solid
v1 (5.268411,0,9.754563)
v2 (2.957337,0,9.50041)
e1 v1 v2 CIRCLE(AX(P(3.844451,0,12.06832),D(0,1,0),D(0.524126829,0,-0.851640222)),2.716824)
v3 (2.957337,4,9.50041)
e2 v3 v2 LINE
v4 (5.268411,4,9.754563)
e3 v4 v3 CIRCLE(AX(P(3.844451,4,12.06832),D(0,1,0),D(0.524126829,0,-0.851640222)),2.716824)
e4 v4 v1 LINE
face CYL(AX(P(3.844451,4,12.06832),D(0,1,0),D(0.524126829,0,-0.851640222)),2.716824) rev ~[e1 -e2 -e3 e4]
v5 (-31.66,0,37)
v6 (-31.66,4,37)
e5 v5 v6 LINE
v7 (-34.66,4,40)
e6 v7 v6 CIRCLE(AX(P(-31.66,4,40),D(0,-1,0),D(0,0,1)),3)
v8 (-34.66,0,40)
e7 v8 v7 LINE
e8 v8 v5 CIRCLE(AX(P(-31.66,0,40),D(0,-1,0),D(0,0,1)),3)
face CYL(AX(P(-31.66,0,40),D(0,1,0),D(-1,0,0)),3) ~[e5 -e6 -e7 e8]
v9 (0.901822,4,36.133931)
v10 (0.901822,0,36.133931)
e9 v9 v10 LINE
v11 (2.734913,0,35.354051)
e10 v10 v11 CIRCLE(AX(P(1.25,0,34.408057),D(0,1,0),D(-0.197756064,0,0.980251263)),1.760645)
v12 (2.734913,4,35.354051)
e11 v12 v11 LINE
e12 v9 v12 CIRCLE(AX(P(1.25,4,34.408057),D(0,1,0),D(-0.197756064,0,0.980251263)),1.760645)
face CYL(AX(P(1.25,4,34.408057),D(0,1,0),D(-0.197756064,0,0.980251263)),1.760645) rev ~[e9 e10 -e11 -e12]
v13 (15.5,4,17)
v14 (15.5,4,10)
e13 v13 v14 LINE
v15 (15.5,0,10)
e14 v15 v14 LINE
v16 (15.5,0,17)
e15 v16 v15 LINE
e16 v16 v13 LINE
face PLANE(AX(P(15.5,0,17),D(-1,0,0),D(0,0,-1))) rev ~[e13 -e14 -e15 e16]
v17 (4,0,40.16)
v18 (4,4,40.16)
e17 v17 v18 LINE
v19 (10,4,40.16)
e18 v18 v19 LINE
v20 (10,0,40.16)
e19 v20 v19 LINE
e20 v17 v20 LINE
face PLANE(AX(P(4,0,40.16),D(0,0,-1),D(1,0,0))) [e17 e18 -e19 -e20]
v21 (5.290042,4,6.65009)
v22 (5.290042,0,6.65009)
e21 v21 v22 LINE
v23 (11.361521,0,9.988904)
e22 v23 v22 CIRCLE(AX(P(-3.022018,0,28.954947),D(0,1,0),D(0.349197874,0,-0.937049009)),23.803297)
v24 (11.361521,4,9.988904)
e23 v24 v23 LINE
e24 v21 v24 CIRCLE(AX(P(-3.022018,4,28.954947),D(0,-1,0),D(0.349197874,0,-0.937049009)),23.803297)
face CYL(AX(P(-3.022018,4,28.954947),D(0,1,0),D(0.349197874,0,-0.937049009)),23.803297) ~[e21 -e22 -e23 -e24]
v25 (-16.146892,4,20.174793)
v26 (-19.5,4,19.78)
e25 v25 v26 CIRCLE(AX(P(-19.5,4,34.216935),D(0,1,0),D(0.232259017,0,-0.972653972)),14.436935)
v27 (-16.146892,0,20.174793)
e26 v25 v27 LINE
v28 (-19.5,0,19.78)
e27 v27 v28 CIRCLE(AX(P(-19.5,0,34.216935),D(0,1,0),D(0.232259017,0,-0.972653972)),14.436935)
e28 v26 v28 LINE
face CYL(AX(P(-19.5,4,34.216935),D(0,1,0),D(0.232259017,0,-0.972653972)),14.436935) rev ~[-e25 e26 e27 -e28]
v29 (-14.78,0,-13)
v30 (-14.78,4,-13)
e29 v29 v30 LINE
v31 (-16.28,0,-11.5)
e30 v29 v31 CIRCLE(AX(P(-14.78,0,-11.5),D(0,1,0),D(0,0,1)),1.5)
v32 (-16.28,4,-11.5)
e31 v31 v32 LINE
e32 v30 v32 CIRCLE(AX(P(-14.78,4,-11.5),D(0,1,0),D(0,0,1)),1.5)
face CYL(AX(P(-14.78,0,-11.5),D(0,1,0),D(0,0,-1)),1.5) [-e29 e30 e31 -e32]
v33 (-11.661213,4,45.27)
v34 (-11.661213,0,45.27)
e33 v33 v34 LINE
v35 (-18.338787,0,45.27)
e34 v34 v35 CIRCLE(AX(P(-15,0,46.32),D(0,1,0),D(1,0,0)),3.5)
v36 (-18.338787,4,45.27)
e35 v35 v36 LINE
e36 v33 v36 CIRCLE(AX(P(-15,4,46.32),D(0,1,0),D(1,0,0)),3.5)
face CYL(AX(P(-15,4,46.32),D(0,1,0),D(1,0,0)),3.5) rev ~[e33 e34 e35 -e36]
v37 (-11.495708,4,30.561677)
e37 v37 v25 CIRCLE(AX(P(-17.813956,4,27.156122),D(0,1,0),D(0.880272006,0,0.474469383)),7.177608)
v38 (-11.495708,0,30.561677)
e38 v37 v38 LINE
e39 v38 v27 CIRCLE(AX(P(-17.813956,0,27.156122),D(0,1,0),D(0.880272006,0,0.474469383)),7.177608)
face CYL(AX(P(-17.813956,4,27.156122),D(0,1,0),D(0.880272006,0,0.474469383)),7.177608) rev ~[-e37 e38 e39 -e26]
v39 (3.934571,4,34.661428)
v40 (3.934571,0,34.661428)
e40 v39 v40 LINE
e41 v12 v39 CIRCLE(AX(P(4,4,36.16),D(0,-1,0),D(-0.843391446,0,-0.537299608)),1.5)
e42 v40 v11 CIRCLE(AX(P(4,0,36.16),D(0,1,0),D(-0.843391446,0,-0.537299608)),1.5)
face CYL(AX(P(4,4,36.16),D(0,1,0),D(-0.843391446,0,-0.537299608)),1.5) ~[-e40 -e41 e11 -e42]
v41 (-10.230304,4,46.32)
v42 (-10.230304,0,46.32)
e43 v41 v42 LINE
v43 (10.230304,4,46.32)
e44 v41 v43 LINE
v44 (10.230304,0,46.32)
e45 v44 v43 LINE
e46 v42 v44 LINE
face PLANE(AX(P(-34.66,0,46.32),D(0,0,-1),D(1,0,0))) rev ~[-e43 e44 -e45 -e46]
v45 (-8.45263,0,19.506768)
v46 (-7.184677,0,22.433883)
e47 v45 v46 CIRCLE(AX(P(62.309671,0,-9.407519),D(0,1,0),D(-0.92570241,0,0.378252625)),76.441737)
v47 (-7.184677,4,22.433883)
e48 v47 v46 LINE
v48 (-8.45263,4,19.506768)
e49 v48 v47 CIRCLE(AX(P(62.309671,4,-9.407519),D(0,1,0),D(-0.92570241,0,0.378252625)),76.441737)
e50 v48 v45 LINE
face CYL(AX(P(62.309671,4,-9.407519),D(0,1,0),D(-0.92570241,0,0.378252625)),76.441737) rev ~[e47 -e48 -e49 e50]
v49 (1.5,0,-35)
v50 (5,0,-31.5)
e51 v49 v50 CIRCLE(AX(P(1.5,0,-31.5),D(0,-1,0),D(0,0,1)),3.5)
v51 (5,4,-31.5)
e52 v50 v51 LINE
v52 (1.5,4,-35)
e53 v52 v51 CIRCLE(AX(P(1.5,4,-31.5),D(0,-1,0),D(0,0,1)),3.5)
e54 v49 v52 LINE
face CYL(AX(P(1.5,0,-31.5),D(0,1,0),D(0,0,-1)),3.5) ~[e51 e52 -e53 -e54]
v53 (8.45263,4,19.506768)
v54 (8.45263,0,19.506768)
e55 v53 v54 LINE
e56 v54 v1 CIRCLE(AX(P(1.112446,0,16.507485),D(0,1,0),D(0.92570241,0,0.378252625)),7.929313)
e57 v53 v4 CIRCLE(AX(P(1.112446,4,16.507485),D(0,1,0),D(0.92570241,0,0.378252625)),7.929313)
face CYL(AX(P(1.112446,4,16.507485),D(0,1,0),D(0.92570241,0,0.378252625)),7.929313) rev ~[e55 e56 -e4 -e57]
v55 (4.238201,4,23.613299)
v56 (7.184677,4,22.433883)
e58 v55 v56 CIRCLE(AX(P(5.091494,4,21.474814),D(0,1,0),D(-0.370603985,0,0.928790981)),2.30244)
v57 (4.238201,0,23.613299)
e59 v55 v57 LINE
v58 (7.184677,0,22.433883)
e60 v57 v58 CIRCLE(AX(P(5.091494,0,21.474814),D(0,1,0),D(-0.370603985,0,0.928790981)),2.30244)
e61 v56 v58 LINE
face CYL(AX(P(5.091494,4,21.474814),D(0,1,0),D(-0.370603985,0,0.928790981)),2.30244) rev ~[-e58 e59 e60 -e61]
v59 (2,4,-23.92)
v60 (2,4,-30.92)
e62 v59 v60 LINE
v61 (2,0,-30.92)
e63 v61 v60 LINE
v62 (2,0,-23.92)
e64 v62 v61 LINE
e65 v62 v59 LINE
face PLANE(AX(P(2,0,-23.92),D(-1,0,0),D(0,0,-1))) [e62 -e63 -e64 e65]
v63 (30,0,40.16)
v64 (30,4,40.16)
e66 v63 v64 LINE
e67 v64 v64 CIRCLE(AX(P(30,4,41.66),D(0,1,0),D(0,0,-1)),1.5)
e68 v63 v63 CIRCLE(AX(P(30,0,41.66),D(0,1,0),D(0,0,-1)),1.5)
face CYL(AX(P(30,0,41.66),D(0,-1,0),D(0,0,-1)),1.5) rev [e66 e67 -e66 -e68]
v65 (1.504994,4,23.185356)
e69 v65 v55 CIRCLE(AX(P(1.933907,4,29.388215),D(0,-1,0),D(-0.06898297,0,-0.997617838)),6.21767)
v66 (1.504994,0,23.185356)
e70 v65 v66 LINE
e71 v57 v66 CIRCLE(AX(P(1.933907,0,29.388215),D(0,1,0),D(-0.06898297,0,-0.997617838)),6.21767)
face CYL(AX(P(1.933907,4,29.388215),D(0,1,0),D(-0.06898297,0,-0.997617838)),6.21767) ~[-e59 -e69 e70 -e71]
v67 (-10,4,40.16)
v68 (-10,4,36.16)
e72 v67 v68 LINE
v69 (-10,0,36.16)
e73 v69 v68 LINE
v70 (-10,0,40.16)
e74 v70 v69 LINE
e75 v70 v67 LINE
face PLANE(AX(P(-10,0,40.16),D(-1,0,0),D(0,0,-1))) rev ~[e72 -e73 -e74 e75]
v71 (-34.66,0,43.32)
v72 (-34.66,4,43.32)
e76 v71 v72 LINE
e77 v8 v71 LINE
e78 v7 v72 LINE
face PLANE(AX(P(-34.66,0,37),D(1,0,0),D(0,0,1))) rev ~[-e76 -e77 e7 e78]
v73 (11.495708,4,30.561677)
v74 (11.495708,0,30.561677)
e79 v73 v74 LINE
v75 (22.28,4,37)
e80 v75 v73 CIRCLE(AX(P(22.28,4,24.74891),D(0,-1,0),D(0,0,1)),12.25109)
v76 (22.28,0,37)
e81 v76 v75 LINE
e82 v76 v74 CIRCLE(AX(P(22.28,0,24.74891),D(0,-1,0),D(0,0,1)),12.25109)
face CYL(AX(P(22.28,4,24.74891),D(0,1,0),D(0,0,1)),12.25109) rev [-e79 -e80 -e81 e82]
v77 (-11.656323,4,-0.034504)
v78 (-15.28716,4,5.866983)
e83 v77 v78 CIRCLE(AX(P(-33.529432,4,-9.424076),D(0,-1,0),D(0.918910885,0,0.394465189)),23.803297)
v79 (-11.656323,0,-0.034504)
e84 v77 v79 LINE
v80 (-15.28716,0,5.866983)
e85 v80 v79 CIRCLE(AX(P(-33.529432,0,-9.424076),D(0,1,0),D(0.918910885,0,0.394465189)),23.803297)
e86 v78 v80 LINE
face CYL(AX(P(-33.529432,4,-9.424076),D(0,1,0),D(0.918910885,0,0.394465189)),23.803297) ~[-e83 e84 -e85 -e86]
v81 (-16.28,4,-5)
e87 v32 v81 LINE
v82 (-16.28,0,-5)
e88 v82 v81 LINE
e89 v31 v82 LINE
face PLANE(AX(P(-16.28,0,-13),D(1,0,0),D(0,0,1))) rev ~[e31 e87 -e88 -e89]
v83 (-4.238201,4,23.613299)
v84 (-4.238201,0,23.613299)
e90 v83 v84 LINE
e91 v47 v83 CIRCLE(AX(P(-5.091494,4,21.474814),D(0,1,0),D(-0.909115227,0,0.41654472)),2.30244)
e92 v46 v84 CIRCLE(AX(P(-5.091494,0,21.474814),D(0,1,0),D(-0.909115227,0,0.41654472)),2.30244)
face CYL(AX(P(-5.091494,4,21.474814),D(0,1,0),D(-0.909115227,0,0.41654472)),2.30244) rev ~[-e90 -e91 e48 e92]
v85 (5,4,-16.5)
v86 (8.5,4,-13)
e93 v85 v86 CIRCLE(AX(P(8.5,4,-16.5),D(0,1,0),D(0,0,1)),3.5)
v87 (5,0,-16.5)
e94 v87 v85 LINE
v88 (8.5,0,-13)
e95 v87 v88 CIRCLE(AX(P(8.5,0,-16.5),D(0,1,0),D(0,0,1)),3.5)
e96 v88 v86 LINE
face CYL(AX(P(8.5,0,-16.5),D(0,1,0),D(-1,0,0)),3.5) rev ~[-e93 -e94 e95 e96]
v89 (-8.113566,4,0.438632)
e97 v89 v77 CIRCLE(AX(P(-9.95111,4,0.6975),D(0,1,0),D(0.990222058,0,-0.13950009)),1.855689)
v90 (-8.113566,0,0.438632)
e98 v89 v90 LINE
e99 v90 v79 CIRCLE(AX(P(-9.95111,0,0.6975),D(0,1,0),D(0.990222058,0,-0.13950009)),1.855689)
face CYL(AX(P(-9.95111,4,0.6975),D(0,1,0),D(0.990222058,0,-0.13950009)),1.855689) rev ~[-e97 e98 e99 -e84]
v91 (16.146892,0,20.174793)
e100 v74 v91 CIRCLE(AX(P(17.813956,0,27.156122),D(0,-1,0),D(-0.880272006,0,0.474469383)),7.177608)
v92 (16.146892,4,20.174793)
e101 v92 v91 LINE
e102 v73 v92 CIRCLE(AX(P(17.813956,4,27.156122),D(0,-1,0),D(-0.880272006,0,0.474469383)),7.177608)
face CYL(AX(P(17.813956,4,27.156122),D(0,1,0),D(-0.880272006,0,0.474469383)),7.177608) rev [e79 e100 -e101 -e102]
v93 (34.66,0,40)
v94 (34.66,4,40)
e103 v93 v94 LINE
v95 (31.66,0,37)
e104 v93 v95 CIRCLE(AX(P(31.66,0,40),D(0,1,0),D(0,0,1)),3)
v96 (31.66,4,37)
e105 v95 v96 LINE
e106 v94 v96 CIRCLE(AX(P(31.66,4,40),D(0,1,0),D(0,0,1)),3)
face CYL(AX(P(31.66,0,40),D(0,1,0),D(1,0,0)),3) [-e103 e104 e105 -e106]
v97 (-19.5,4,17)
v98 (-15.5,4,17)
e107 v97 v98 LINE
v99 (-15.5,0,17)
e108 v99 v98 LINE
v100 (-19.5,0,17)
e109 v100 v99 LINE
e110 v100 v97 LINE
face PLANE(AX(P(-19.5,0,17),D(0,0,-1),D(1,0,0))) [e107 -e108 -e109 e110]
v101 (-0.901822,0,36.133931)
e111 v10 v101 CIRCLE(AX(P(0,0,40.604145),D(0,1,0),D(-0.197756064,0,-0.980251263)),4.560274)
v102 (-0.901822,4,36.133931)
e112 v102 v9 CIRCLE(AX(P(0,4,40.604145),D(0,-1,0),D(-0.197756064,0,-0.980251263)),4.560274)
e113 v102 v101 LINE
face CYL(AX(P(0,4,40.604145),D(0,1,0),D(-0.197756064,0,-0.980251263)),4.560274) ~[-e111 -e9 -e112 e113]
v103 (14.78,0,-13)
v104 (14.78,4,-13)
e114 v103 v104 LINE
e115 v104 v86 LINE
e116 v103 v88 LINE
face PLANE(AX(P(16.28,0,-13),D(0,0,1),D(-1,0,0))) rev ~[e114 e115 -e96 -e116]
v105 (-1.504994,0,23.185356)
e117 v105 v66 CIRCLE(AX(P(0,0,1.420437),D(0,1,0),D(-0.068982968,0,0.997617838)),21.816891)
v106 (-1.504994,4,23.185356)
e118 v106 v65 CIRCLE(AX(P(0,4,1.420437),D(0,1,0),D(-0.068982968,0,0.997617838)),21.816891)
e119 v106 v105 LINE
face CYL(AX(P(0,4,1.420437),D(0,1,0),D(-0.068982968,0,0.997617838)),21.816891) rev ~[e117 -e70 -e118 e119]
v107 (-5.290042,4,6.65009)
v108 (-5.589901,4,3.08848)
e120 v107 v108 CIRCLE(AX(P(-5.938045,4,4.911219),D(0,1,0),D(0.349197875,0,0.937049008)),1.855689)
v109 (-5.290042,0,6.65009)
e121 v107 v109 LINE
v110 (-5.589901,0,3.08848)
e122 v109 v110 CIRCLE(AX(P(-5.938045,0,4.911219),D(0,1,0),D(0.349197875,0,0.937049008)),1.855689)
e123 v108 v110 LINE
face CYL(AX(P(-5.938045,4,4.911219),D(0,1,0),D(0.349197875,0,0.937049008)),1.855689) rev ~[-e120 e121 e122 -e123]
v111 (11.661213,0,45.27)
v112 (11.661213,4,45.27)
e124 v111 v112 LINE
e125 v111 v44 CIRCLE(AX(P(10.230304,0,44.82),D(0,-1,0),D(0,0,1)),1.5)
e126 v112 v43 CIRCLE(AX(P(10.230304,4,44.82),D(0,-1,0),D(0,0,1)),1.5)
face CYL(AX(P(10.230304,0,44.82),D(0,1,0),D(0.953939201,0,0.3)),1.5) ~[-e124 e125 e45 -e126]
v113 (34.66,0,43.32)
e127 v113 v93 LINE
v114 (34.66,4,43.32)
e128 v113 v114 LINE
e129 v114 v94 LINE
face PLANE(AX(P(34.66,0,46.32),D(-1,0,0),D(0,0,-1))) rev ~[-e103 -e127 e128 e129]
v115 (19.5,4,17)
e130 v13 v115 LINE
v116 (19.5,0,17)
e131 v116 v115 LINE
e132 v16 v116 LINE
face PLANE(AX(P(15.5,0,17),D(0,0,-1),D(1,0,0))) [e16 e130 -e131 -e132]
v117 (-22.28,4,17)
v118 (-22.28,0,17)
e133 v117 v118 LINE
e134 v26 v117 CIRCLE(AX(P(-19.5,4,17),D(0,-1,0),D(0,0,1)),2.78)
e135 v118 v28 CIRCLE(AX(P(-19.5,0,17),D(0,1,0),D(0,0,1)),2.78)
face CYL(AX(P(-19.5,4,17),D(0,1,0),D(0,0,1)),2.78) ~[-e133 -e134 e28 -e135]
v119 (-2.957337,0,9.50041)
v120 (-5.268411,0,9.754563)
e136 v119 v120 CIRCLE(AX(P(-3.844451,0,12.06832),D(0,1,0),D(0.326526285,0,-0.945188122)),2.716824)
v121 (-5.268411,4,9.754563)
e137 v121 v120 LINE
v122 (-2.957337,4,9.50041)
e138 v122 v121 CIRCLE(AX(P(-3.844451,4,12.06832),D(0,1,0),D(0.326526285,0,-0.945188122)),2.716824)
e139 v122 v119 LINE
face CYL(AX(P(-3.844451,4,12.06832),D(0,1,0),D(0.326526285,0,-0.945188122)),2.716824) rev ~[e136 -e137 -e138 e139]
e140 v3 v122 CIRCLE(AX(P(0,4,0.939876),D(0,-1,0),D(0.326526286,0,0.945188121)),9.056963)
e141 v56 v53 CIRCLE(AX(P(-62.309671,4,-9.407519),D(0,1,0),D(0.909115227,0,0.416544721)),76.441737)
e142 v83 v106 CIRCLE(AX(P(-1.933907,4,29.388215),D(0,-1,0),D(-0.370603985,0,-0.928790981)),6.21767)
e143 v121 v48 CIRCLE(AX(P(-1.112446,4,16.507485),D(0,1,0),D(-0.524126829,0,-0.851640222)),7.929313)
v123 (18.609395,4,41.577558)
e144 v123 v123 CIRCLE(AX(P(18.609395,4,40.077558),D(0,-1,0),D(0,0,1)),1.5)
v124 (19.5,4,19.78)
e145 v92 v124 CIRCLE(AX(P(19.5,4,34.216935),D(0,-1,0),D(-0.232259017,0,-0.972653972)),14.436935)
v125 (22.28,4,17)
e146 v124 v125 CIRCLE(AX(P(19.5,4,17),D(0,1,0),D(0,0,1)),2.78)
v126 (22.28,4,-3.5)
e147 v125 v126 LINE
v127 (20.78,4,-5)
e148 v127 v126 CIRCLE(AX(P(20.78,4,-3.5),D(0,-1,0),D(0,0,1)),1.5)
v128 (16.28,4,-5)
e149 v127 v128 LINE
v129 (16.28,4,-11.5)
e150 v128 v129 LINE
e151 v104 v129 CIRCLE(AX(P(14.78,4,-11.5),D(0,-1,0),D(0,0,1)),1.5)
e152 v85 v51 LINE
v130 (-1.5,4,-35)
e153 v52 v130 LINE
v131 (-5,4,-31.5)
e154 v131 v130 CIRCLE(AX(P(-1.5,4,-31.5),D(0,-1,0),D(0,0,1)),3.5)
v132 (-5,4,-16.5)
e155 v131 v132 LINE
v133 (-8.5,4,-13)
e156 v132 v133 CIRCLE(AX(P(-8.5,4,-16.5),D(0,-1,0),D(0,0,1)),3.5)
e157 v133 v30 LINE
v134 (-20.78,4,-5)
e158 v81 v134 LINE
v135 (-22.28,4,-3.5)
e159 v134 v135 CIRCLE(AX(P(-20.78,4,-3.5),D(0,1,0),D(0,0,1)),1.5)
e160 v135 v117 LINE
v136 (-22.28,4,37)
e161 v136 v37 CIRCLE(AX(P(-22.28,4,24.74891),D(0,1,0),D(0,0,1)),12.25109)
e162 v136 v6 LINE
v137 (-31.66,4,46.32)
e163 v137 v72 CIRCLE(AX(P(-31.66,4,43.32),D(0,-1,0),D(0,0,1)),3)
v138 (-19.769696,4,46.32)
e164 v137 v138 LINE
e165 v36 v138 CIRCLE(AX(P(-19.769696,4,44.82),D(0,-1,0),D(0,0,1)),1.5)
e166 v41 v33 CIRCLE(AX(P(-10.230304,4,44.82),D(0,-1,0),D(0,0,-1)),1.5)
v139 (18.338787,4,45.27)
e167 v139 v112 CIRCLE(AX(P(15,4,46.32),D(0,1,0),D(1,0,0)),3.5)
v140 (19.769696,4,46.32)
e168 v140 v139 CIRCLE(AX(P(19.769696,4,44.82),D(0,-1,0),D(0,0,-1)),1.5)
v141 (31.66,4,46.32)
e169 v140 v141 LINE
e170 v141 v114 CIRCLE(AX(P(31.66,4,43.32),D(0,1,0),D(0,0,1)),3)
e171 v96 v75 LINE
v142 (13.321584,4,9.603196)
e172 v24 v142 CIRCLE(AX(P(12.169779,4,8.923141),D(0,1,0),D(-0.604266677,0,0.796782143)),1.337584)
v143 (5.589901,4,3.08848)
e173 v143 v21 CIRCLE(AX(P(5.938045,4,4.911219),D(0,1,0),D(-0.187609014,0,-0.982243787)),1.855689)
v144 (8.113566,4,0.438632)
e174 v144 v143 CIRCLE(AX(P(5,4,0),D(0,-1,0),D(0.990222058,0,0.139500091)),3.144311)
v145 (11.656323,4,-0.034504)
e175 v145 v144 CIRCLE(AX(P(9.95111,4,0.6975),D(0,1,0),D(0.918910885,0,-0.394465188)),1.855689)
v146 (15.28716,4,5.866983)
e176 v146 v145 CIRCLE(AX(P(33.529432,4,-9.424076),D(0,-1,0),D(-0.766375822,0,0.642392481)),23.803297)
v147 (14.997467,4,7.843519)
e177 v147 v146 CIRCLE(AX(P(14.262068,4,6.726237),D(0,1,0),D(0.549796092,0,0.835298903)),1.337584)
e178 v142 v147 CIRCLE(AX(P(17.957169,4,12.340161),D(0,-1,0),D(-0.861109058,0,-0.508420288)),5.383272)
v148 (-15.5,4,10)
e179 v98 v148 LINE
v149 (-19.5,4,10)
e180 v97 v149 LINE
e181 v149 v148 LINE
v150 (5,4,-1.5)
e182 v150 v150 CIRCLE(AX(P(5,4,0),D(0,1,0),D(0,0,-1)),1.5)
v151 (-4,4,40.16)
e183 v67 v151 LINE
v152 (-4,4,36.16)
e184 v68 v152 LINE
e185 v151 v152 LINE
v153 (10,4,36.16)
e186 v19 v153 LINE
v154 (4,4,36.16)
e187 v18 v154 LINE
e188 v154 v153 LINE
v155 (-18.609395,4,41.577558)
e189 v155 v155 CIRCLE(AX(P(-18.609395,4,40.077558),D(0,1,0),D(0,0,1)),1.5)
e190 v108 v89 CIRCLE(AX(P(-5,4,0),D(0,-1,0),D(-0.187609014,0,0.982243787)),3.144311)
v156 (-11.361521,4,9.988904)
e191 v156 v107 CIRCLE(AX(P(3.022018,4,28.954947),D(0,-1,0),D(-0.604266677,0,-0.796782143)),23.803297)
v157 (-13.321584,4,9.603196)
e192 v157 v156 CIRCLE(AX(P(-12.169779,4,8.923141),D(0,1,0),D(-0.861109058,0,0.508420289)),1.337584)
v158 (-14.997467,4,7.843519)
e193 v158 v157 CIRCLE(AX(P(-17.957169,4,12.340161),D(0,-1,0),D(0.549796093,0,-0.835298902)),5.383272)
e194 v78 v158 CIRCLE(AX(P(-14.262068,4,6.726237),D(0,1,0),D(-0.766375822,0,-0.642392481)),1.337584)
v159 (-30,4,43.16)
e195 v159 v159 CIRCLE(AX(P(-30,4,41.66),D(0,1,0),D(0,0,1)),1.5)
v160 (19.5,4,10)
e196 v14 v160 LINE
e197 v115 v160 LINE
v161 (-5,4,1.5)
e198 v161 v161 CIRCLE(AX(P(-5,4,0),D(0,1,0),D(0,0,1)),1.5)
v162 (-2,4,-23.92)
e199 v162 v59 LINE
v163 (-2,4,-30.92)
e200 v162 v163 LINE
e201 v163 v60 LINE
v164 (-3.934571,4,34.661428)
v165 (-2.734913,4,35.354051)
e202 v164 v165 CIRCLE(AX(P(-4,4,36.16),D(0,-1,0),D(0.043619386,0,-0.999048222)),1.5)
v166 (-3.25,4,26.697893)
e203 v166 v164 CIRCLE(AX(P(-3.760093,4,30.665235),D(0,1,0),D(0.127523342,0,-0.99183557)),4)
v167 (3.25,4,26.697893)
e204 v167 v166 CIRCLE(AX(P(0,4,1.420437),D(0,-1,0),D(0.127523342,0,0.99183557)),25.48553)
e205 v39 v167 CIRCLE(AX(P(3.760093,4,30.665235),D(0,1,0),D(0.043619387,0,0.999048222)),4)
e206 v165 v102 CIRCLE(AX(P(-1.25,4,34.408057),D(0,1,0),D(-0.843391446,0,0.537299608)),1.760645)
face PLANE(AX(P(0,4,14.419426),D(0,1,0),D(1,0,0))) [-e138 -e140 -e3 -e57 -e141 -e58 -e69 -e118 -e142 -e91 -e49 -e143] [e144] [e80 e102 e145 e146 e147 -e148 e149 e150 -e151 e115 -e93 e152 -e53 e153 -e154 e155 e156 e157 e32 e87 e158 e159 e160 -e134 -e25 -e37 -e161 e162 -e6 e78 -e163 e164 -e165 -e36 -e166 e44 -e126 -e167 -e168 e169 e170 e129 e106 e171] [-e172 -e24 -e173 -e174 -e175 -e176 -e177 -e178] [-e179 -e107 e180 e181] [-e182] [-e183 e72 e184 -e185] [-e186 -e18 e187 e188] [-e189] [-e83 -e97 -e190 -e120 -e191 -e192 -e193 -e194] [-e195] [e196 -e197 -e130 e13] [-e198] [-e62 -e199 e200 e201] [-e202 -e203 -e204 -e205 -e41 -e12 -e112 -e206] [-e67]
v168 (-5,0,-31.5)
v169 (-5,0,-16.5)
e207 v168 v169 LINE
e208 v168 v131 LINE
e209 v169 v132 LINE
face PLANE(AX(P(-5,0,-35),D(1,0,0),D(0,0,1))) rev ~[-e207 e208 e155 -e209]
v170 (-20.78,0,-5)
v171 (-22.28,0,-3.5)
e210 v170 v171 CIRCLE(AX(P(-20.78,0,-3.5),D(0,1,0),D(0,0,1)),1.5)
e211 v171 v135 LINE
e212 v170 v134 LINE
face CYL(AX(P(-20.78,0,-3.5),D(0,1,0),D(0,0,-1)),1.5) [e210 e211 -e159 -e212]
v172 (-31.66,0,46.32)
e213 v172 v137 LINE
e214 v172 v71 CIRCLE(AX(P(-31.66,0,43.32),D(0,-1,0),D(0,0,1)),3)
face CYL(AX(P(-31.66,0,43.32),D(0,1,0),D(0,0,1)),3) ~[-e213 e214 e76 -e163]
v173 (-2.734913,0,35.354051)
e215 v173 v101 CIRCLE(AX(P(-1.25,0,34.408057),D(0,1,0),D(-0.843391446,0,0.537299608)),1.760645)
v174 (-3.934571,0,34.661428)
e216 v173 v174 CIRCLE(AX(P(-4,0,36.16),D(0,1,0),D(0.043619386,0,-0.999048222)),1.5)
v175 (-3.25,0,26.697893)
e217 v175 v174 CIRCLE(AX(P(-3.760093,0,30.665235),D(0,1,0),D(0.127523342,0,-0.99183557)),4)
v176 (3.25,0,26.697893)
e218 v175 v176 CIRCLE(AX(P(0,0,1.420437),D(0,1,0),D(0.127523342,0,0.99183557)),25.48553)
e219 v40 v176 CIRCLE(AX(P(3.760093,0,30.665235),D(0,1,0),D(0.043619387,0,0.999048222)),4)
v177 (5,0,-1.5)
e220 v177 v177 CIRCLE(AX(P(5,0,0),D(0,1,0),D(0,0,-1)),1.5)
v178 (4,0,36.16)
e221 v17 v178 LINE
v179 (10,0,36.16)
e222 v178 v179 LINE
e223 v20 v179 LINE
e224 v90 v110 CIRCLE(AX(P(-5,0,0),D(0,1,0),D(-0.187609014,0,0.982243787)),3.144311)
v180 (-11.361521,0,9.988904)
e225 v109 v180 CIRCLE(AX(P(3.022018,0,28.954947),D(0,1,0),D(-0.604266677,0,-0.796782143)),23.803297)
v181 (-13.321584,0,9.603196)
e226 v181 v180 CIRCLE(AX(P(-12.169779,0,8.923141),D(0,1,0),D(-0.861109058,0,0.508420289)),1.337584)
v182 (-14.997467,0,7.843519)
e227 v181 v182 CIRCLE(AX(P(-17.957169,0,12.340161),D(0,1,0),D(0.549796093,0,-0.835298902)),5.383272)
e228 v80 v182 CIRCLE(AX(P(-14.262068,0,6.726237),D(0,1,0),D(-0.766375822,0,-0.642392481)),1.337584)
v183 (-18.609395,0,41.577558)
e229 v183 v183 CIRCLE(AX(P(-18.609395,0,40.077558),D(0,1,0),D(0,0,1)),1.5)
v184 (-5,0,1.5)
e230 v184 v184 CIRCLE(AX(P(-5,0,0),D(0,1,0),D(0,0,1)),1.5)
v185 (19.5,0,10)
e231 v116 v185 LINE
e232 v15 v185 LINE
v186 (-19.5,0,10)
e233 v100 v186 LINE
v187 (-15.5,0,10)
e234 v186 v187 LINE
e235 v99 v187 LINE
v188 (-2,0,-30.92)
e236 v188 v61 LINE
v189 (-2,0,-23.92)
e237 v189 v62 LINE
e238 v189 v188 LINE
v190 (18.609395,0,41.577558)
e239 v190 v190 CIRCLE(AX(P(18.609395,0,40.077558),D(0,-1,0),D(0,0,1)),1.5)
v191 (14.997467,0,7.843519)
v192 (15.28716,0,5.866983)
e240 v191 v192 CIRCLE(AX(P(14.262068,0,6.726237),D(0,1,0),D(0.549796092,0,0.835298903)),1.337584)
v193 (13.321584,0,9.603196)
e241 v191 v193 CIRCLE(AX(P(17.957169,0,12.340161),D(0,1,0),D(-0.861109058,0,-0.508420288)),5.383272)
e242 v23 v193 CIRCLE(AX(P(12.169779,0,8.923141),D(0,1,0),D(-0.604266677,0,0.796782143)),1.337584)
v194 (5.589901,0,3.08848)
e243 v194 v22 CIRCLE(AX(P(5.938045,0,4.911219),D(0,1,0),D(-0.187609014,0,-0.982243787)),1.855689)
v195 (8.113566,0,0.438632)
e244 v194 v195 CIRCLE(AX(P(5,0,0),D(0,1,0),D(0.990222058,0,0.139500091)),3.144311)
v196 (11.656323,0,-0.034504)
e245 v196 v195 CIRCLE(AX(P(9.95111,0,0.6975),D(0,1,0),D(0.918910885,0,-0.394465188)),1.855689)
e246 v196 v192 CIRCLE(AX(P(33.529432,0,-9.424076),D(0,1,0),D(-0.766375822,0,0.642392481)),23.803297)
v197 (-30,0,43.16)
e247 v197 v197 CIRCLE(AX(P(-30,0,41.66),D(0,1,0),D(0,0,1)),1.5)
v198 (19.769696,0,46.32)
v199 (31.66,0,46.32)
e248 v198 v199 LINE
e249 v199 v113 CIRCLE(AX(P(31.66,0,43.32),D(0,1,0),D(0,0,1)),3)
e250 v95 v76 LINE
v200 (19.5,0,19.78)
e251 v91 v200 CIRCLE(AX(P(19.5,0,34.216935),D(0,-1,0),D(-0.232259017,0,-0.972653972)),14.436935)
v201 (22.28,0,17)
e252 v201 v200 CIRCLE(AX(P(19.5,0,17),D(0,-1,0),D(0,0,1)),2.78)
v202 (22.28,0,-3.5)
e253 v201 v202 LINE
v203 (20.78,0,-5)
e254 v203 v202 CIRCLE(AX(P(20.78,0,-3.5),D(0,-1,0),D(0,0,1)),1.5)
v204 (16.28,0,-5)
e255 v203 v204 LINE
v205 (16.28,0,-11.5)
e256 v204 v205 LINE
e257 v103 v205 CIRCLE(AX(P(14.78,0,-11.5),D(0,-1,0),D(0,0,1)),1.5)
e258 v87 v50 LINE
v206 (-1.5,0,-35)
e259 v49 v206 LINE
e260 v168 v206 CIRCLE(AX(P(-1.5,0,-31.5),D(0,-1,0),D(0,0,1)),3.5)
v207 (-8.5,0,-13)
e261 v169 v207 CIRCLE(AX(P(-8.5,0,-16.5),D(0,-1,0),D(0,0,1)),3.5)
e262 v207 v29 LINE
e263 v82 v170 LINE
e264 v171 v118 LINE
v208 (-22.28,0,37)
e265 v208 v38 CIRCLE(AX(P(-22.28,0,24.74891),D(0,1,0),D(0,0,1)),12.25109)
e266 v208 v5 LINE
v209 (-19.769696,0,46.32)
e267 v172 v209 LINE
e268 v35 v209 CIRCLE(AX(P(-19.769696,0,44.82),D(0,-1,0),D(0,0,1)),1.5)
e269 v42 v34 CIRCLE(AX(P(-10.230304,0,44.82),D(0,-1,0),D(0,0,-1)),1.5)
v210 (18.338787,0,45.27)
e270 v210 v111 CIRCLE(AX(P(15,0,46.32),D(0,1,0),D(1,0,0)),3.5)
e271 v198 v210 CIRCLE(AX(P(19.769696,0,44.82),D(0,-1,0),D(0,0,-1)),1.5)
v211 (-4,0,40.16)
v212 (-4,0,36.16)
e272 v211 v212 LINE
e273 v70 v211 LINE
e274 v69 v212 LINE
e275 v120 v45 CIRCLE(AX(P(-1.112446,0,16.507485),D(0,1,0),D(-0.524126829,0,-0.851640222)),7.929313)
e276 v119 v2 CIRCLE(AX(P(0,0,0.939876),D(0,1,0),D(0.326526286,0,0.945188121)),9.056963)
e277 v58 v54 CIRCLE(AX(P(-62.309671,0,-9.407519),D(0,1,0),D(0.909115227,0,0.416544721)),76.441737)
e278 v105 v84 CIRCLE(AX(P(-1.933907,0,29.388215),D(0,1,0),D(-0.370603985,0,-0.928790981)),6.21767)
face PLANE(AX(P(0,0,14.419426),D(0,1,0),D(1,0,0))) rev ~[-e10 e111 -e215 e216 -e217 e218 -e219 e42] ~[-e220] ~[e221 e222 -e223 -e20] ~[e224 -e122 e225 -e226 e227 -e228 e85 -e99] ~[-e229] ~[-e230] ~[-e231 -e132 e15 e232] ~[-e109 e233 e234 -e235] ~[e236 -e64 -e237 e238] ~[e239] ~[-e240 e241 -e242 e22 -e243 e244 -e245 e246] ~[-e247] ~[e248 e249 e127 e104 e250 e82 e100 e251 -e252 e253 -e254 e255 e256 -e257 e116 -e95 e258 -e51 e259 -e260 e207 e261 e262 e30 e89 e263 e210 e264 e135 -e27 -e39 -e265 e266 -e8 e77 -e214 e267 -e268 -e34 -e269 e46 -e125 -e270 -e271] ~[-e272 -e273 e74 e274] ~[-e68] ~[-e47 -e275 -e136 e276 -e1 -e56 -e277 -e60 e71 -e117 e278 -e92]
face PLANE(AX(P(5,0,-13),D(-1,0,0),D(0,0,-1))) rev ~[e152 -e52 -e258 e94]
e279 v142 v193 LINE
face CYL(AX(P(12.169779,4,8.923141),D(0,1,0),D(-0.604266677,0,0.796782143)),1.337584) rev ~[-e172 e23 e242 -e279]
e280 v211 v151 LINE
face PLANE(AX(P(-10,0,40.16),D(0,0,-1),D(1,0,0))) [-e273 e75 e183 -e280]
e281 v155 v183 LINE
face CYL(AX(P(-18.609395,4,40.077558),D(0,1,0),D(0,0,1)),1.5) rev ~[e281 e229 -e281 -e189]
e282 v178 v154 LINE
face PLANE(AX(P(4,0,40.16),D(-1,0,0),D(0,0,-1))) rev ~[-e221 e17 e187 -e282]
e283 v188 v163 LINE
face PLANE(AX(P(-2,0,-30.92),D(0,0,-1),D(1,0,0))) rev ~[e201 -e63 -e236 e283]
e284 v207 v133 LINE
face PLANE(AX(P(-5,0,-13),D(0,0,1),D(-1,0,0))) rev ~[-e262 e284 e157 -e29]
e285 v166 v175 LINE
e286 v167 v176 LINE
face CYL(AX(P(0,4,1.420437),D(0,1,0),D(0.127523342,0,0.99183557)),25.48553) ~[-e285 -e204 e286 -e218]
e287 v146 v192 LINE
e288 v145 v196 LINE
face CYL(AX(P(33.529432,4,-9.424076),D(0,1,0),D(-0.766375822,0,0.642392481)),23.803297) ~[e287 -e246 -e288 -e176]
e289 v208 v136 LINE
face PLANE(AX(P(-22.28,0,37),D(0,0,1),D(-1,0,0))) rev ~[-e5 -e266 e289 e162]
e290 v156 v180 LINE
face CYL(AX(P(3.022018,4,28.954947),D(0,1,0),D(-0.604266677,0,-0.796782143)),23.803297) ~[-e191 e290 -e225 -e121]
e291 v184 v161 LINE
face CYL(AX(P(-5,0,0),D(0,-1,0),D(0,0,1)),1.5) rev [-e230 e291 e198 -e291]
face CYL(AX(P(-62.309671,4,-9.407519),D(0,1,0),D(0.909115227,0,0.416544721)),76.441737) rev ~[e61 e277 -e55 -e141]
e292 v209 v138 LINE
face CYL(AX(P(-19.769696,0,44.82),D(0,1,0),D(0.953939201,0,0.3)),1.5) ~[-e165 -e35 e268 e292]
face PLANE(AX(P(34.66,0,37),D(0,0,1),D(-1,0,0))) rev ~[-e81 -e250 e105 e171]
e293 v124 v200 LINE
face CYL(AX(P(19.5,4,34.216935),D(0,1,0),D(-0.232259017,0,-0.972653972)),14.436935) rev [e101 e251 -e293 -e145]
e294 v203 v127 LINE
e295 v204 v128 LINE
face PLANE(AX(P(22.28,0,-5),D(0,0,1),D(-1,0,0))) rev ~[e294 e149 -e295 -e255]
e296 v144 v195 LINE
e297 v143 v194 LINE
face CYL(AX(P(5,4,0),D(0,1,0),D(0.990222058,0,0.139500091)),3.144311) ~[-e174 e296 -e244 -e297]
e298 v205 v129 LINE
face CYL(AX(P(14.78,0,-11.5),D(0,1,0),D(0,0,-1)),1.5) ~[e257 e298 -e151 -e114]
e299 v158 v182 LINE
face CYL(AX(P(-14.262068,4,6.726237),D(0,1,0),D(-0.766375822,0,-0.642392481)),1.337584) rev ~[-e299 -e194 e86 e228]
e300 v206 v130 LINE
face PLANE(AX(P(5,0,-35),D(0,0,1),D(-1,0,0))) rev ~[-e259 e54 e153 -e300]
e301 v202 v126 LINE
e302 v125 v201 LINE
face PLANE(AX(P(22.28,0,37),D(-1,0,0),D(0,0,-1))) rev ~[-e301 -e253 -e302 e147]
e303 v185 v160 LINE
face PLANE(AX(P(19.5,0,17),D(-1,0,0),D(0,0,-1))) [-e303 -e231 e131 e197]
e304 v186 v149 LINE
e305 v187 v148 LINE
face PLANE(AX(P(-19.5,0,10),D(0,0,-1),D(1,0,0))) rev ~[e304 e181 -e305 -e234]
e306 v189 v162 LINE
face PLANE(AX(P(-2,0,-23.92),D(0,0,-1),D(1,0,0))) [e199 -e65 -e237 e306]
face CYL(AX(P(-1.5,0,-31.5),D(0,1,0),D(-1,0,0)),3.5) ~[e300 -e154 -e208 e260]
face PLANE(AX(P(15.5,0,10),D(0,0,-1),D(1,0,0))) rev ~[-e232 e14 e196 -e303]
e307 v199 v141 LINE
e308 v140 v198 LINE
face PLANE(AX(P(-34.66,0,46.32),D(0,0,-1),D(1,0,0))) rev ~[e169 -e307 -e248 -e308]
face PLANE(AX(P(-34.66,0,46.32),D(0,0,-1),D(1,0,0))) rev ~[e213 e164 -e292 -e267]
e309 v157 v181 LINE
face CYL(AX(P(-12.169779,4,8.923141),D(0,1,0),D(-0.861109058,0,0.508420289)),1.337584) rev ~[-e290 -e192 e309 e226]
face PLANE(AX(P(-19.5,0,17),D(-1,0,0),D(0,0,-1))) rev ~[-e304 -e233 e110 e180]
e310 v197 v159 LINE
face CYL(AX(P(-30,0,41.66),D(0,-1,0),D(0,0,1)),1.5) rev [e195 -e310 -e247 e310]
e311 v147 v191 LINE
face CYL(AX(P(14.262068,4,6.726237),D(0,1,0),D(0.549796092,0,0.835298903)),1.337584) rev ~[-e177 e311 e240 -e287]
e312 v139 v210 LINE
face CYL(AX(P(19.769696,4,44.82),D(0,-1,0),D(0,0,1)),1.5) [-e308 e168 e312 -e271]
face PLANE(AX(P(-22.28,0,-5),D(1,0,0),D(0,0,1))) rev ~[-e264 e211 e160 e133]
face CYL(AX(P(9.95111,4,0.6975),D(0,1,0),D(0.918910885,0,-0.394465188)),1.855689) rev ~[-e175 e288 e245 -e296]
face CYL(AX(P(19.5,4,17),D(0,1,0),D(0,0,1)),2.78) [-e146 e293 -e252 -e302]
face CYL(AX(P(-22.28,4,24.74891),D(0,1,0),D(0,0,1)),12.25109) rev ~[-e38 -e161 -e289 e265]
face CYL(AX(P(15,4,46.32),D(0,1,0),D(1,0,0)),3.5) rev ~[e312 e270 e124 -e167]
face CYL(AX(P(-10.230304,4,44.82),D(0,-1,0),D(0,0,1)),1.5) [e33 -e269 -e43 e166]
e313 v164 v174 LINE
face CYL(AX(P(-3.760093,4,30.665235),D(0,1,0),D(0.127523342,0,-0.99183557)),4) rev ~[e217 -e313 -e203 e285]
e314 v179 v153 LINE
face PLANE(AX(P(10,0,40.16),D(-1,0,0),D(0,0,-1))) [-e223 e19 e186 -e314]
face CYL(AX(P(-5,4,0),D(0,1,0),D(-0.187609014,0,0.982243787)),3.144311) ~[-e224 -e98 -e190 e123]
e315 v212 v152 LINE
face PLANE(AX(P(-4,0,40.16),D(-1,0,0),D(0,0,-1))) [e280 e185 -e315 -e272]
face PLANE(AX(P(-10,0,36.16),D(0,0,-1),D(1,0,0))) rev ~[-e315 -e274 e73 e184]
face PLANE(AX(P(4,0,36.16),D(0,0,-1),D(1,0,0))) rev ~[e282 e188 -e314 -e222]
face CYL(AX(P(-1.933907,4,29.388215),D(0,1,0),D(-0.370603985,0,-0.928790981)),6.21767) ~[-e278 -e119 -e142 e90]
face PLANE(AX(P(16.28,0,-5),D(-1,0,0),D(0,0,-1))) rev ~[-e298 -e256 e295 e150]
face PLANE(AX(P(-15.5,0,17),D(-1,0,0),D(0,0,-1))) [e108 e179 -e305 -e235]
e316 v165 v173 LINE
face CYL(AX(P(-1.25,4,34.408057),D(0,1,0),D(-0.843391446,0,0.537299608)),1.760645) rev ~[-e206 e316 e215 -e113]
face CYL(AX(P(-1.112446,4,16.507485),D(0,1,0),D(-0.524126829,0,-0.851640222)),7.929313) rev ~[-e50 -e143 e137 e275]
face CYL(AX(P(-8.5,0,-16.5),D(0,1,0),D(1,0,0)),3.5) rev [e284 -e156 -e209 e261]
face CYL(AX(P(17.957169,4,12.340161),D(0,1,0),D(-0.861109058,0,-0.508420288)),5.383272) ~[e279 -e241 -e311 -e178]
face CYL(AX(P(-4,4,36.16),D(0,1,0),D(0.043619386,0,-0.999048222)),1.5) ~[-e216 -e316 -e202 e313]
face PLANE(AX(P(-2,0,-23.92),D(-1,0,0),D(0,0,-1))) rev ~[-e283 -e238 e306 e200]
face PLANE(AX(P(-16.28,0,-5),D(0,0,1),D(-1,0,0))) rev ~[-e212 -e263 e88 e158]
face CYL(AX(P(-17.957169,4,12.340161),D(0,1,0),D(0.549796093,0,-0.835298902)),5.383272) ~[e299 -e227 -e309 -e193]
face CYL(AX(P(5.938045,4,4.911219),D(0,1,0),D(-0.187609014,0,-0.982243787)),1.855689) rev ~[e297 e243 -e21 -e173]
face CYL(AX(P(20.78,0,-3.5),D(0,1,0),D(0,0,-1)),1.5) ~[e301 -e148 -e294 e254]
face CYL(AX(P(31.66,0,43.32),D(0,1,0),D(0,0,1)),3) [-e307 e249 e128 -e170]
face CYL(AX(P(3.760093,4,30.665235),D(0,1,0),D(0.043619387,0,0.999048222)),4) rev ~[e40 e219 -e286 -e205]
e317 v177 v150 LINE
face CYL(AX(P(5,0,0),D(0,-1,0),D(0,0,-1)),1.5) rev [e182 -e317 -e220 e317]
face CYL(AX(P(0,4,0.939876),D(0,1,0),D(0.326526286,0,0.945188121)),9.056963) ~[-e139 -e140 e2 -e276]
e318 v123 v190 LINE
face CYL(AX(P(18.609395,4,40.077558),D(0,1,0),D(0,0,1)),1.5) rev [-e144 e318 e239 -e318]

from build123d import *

# Parameters (mm, degrees)
ESQUISSE1_R             = 1.5
ESQUISSE1_W             = 4
ESQUISSE1_H             = 7
ESQUISSE1_W_2           = 6
ESQUISSE1_H_2           = 4
BOSS_EXTRU_1_DEPTH      = 4
ENL_V_MAT_EXTRU_1_REACH = 59.99
ENL_V_MAT_EXTRU_2_REACH = 59.99
ENL_V_MAT_EXTRU_3_REACH = 59.99
CONG_1_R                = 3.5
CONG_2_R                = 3.5
CONG_3_R                = 1.5
ENL_V_MAT_EXTRU_4_REACH = 59.99
CONG_4_R                = 3
CONG_5_R                = 3
ENL_V_MAT_EXTRU_5_REACH = 59.99
ESQUISSE8_R             = 3.5
CONG_6_R                = 1.5
ENL_V_MAT_EXTRU_6_REACH = 59.99
ESQUISSE9_R             = 1.5


with BuildPart() as part:
    # Esquisse1 → Boss.-Extru.1 (new body)
    with BuildSketch(Plane(origin=(0, 0, 0), x_dir=(1, 0, 0), z_dir=(0, 1, 0))):
        Polygon((-20.28, 5), (-22.28, 5), (-22.28, -37), (-34.66, -37), (-34.66, -46.32), (34.66, -46.32), (34.66, -37), (22.28, -37), (22.28, 5), (20.28, 5), (16.28, 5), (16.28, 13), (5, 13), (5, 35), (-5, 35), (-5, 13), (-16.28, 13), (-16.28, 5), align=None)
        with Locations(Location((-5, 0, 0), (0, 0, 270))):
            Circle(ESQUISSE1_R, mode=Mode.SUBTRACT)
        with Locations(Location((5, 0, 0), (0, 0, 90))):
            Circle(ESQUISSE1_R, mode=Mode.SUBTRACT)
        with Locations(Location((-30, -41.66, 0), (0, 0, 270))):
            Circle(ESQUISSE1_R, mode=Mode.SUBTRACT)
        with Locations(Location((30, -41.66, 0), (0, 0, 90))):
            Circle(ESQUISSE1_R, mode=Mode.SUBTRACT)
        with Locations((0, 27.42)):
            Rectangle(ESQUISSE1_W, ESQUISSE1_H, mode=Mode.SUBTRACT)
        with Locations((-17.5, -13.5)):
            Rectangle(ESQUISSE1_W, ESQUISSE1_H, mode=Mode.SUBTRACT)
        with Locations((-7, -38.16)):
            Rectangle(ESQUISSE1_W_2, ESQUISSE1_H_2, mode=Mode.SUBTRACT)
        with Locations((7, -38.16)):
            Rectangle(ESQUISSE1_W_2, ESQUISSE1_H_2, mode=Mode.SUBTRACT)
        with Locations((17.5, -13.5)):
            Rectangle(ESQUISSE1_W, ESQUISSE1_H, mode=Mode.SUBTRACT)
    extrude(amount=BOSS_EXTRU_1_DEPTH)

    # Esquisse2 → Enlèv. mat.-Extru.1 (cut, up to next)
    with BuildSketch(Plane(origin=(0, 4, 0), x_dir=(1, 0, 0), z_dir=(0, 1, 0)), mode=Mode.PRIVATE) as enl_v_mat_extru_1_sk1:
        with BuildLine():
            ThreePointArc((-14.9974668, -7.843519448), (-14.058937243, -8.627559279), (-13.321584394, -9.603195975))
            ThreePointArc((-13.321584394, -9.603195975), (-12.428040198, -10.235555734), (-11.361521034, -9.988904221))
            ThreePointArc((-11.361521034, -9.988904221), (-8.447920047, -8.097394436), (-5.290042477, -6.650090308))
            ThreePointArc((-5.290042477, -6.650090308), (-4.088898303, -4.755535803), (-5.589901119, -3.088480121))
            ThreePointArc((-5.589901119, -3.088480121), (-7.276914991, -2.168490468), (-8.113566287, -0.438631695))
            ThreePointArc((-8.113566287, -0.438631695), (-9.70546362, 1.141857781), (-11.656322949, 0.034504187))
            ThreePointArc((-11.656322949, 0.034504187), (-13.25585737, -3.049060247), (-15.287160414, -5.866982872))
            ThreePointArc((-15.287160414, -5.866982872), (-15.585513038, -6.920209252), (-14.9974668, -7.843519448))
        make_face()
    enl_v_mat_extru_1_tool1 = extrude(enl_v_mat_extru_1_sk1.sketch, amount=-ENL_V_MAT_EXTRU_1_REACH, mode=Mode.PRIVATE) & part.part
    # Esquisse2 → Enlèv. mat.-Extru.1 (cut, up to next)
    with BuildSketch(Plane(origin=(0, 4, 0), x_dir=(1, 0, 0), z_dir=(0, 1, 0)), mode=Mode.PRIVATE) as enl_v_mat_extru_1_sk2:
        with BuildLine():
            ThreePointArc((5.589901119, -3.088480121), (4.088898303, -4.755535803), (5.290042477, -6.650090308))
            ThreePointArc((5.290042477, -6.650090308), (8.447920047, -8.097394436), (11.361521034, -9.988904221))
            ThreePointArc((11.361521034, -9.988904221), (12.428040198, -10.235555734), (13.321584394, -9.603195975))
            ThreePointArc((13.321584394, -9.603195975), (14.058937243, -8.627559279), (14.9974668, -7.843519448))
            ThreePointArc((14.9974668, -7.843519448), (15.585513038, -6.920209252), (15.287160414, -5.866982872))
            ThreePointArc((15.287160414, -5.866982872), (13.25585737, -3.049060247), (11.656322949, 0.034504187))
            ThreePointArc((11.656322949, 0.034504187), (9.70546362, 1.141857781), (8.113566287, -0.438631695))
            ThreePointArc((8.113566287, -0.438631695), (7.276914991, -2.168490468), (5.589901119, -3.088480121))
        make_face()
    enl_v_mat_extru_1_tool2 = extrude(enl_v_mat_extru_1_sk2.sketch, amount=-ENL_V_MAT_EXTRU_1_REACH, mode=Mode.PRIVATE) & part.part
    add(enl_v_mat_extru_1_tool1.solids().sort_by_distance((-10.104676, 4, 4.861596))[0], mode=Mode.SUBTRACT)
    add(enl_v_mat_extru_1_tool2.solids().sort_by_distance((10.104676, 4, 4.861596))[0], mode=Mode.SUBTRACT)

    # Esquisse3 → Enlèv. mat.-Extru.2 (cut, up to next)
    with BuildSketch(Plane(origin=(0, 4, 0), x_dir=(1, 0, 0), z_dir=(0, 1, 0)), mode=Mode.PRIVATE) as enl_v_mat_extru_2_sk1:
        with BuildLine():
            ThreePointArc((-3.934570919, -34.661427668), (-3.25, -34.860961894), (-2.734912831, -35.354050587))
            ThreePointArc((-2.734912831, -35.354050587), (-1.93927123, -36.028172694), (-0.901821799, -36.133931151))
            ThreePointArc((-0.901821799, -36.133931151), (0, -36.043871504), (0.901821799, -36.133931151))
            ThreePointArc((0.901821799, -36.133931151), (1.93927123, -36.028172694), (2.734912831, -35.354050587))
            ThreePointArc((2.734912831, -35.354050587), (3.25, -34.860961894), (3.934570919, -34.661427668))
            ThreePointArc((3.934570919, -34.661427668), (7.745395438, -30.322645486), (3.25, -26.697892503))
            ThreePointArc((3.25, -26.697892503), (0, -26.90596734), (-3.25, -26.697892503))
            ThreePointArc((-3.25, -26.697892503), (-7.745395438, -30.322645486), (-3.934570919, -34.661427668))
        make_face()
    enl_v_mat_extru_2_tool1 = extrude(enl_v_mat_extru_2_sk1.sketch, amount=-ENL_V_MAT_EXTRU_2_REACH, mode=Mode.PRIVATE) & part.part
    add(enl_v_mat_extru_2_tool1.solids().sort_by_distance((0, 4, 31.014004))[0], mode=Mode.SUBTRACT)

    # Esquisse4 → Enlèv. mat.-Extru.3 (cut, up to next)
    with BuildSketch(Plane(origin=(0, 4, 0), x_dir=(1, 0, 0), z_dir=(0, 1, 0)), mode=Mode.PRIVATE) as enl_v_mat_extru_3_sk1:
        with BuildLine():
            ThreePointArc((-1.504993876, -23.185356229), (0, -23.237327603), (1.504993876, -23.185356229))
            ThreePointArc((1.504993876, -23.185356229), (2.895700447, -23.245383622), (4.238200501, -23.613298912))
            ThreePointArc((4.238200501, -23.613298912), (5.947114761, -23.612368685), (7.184676805, -22.433882792))
            ThreePointArc((7.184676805, -22.433882792), (7.833923694, -20.976940348), (8.452629907, -19.506768443))
            ThreePointArc((8.452629907, -19.506768443), (8.650133896, -14.04633429), (5.268411363, -9.754562897))
            ThreePointArc((5.268411363, -9.754562897), (4.141434744, -9.367776338), (2.957336552, -9.500409716))
            ThreePointArc((2.957336552, -9.500409716), (0, -9.996838884), (-2.957336552, -9.500409716))
            ThreePointArc((-2.957336552, -9.500409716), (-4.141434744, -9.367776338), (-5.268411363, -9.754562897))
            ThreePointArc((-5.268411363, -9.754562897), (-8.650133896, -14.04633429), (-8.452629907, -19.506768443))
            ThreePointArc((-8.452629907, -19.506768443), (-7.833923694, -20.976940348), (-7.184676805, -22.433882792))
            ThreePointArc((-7.184676805, -22.433882792), (-5.947114761, -23.612368685), (-4.238200501, -23.613298912))
            ThreePointArc((-4.238200501, -23.613298912), (-2.895700447, -23.245383622), (-1.504993876, -23.185356229))
        make_face()
    enl_v_mat_extru_3_tool1 = extrude(enl_v_mat_extru_3_sk1.sketch, amount=-ENL_V_MAT_EXTRU_3_REACH, mode=Mode.PRIVATE) & part.part
    add(enl_v_mat_extru_3_tool1.solids().sort_by_distance((0, 4, 16.621533))[0], mode=Mode.SUBTRACT)

    # Congé1
    cong_1_edges = [part.edges().sort_by_distance(p)[0] for p in [
        (-5, 2, -35),
        (5, 2, -35),
    ]]
    fillet(cong_1_edges, radius=CONG_1_R)

    # Congé2
    cong_2_edges = [part.edges().sort_by_distance(p)[0] for p in [
        (-5, 2, -13),
        (5, 2, -13),
    ]]
    fillet(cong_2_edges, radius=CONG_2_R)

    # Congé3
    cong_3_edges = [part.edges().sort_by_distance(p)[0] for p in [
        (22.28, 2, -5),
        (-22.28, 2, -5),
        (-16.28, 2, -13),
        (16.28, 2, -13),
    ]]
    fillet(cong_3_edges, radius=CONG_3_R)

    # Esquisse7 → Enlèv. mat.-Extru.4 (cut, up to next)
    with BuildSketch(Plane(origin=(0, 4, 0), x_dir=(1, 0, 0), z_dir=(0, 1, 0)), mode=Mode.PRIVATE) as enl_v_mat_extru_4_sk1:
        with BuildLine():
            Line((-22.28, -17), (-22.28, -37))
            ThreePointArc((-22.28, -37), (-16.000012961, -35.267986448), (-11.495708343, -30.561677059))
            ThreePointArc((-11.495708343, -30.561677059), (-11.263143502, -24.222708134), (-16.146891575, -20.174792843))
            ThreePointArc((-16.146891575, -20.174792843), (-17.81186512, -19.879037913), (-19.5, -19.78))
            ThreePointArc((-19.5, -19.78), (-21.465756852, -18.965756852), (-22.28, -17))
        make_face()
    enl_v_mat_extru_4_tool1 = extrude(enl_v_mat_extru_4_sk1.sketch, amount=-ENL_V_MAT_EXTRU_4_REACH, mode=Mode.PRIVATE) & part.part
    enl_v_mat_extru_4 = enl_v_mat_extru_4_tool1.solids().sort_by_distance((-17.328715, 4, 27.806477))[0]
    add(enl_v_mat_extru_4, mode=Mode.SUBTRACT)

    # Symétrie1: Enlèv. mat.-Extru.4 across plane
    add(enl_v_mat_extru_4.mirror(Plane(origin=(0, 0, 0), x_dir=(0, 0, 1), z_dir=(1, 0, 0))), mode=Mode.SUBTRACT)

    # Congé4
    cong_4_edges = [part.edges().sort_by_distance(p)[0] for p in [
        (-34.66, 2, 46.32),
        (-34.66, 2, 37),
    ]]
    fillet(cong_4_edges, radius=CONG_4_R)

    # Congé5
    cong_5_edges = [part.edges().sort_by_distance(p)[0] for p in [
        (34.66, 2, 37),
        (34.66, 2, 46.32),
    ]]
    fillet(cong_5_edges, radius=CONG_5_R)

    # Esquisse8 → Enlèv. mat.-Extru.5 (cut, up to next)
    with BuildSketch(Plane(origin=(0, 4, 0), x_dir=(1, 0, 0), z_dir=(0, 1, 0)), mode=Mode.PRIVATE) as enl_v_mat_extru_5_sk1:
        with Locations((-15, -46.32)):
            Circle(ESQUISSE8_R)
    enl_v_mat_extru_5_tool1 = extrude(enl_v_mat_extru_5_sk1.sketch, amount=-ENL_V_MAT_EXTRU_5_REACH, mode=Mode.PRIVATE) & part.part
    # Esquisse8 → Enlèv. mat.-Extru.5 (cut, up to next)
    with BuildSketch(Plane(origin=(0, 4, 0), x_dir=(1, 0, 0), z_dir=(0, 1, 0)), mode=Mode.PRIVATE) as enl_v_mat_extru_5_sk2:
        with Locations((15, -46.32)):
            Circle(ESQUISSE8_R)
    enl_v_mat_extru_5_tool2 = extrude(enl_v_mat_extru_5_sk2.sketch, amount=-ENL_V_MAT_EXTRU_5_REACH, mode=Mode.PRIVATE) & part.part
    add(enl_v_mat_extru_5_tool1.solids().sort_by_distance((-15, 4, 46.32))[0], mode=Mode.SUBTRACT)
    add(enl_v_mat_extru_5_tool2.solids().sort_by_distance((15, 4, 46.32))[0], mode=Mode.SUBTRACT)

    # Congé6
    cong_6_edges = [part.edges().sort_by_distance(p)[0] for p in [
        (-18.5, 2, 46.32),
        (-11.5, 2, 46.32),
        (11.5, 2, 46.32),
        (18.5, 2, 46.32),
    ]]
    fillet(cong_6_edges, radius=CONG_6_R)

    # Esquisse9 → Enlèv. mat.-Extru.6 (cut, up to next)
    with BuildSketch(Plane(origin=(0, 4, 0), x_dir=(1, 0, 0), z_dir=(0, 1, 0)), mode=Mode.PRIVATE) as enl_v_mat_extru_6_sk1:
        with Locations(Location((-18.609395269, -40.077557629, 0), (0, 0, 270))):
            Circle(ESQUISSE9_R)
    enl_v_mat_extru_6_tool1 = extrude(enl_v_mat_extru_6_sk1.sketch, amount=-ENL_V_MAT_EXTRU_6_REACH, mode=Mode.PRIVATE) & part.part
    enl_v_mat_extru_6 = enl_v_mat_extru_6_tool1.solids().sort_by_distance((-18.609395, 4, 40.077558))[0]
    add(enl_v_mat_extru_6, mode=Mode.SUBTRACT)

    # Symétrie2: Enlèv. mat.-Extru.6 across plane
    add(enl_v_mat_extru_6.mirror(Plane(origin=(0, 0, 0), x_dir=(0, 0, 1), z_dir=(1, 0, 0))), mode=Mode.SUBTRACT)


solid = part.part
